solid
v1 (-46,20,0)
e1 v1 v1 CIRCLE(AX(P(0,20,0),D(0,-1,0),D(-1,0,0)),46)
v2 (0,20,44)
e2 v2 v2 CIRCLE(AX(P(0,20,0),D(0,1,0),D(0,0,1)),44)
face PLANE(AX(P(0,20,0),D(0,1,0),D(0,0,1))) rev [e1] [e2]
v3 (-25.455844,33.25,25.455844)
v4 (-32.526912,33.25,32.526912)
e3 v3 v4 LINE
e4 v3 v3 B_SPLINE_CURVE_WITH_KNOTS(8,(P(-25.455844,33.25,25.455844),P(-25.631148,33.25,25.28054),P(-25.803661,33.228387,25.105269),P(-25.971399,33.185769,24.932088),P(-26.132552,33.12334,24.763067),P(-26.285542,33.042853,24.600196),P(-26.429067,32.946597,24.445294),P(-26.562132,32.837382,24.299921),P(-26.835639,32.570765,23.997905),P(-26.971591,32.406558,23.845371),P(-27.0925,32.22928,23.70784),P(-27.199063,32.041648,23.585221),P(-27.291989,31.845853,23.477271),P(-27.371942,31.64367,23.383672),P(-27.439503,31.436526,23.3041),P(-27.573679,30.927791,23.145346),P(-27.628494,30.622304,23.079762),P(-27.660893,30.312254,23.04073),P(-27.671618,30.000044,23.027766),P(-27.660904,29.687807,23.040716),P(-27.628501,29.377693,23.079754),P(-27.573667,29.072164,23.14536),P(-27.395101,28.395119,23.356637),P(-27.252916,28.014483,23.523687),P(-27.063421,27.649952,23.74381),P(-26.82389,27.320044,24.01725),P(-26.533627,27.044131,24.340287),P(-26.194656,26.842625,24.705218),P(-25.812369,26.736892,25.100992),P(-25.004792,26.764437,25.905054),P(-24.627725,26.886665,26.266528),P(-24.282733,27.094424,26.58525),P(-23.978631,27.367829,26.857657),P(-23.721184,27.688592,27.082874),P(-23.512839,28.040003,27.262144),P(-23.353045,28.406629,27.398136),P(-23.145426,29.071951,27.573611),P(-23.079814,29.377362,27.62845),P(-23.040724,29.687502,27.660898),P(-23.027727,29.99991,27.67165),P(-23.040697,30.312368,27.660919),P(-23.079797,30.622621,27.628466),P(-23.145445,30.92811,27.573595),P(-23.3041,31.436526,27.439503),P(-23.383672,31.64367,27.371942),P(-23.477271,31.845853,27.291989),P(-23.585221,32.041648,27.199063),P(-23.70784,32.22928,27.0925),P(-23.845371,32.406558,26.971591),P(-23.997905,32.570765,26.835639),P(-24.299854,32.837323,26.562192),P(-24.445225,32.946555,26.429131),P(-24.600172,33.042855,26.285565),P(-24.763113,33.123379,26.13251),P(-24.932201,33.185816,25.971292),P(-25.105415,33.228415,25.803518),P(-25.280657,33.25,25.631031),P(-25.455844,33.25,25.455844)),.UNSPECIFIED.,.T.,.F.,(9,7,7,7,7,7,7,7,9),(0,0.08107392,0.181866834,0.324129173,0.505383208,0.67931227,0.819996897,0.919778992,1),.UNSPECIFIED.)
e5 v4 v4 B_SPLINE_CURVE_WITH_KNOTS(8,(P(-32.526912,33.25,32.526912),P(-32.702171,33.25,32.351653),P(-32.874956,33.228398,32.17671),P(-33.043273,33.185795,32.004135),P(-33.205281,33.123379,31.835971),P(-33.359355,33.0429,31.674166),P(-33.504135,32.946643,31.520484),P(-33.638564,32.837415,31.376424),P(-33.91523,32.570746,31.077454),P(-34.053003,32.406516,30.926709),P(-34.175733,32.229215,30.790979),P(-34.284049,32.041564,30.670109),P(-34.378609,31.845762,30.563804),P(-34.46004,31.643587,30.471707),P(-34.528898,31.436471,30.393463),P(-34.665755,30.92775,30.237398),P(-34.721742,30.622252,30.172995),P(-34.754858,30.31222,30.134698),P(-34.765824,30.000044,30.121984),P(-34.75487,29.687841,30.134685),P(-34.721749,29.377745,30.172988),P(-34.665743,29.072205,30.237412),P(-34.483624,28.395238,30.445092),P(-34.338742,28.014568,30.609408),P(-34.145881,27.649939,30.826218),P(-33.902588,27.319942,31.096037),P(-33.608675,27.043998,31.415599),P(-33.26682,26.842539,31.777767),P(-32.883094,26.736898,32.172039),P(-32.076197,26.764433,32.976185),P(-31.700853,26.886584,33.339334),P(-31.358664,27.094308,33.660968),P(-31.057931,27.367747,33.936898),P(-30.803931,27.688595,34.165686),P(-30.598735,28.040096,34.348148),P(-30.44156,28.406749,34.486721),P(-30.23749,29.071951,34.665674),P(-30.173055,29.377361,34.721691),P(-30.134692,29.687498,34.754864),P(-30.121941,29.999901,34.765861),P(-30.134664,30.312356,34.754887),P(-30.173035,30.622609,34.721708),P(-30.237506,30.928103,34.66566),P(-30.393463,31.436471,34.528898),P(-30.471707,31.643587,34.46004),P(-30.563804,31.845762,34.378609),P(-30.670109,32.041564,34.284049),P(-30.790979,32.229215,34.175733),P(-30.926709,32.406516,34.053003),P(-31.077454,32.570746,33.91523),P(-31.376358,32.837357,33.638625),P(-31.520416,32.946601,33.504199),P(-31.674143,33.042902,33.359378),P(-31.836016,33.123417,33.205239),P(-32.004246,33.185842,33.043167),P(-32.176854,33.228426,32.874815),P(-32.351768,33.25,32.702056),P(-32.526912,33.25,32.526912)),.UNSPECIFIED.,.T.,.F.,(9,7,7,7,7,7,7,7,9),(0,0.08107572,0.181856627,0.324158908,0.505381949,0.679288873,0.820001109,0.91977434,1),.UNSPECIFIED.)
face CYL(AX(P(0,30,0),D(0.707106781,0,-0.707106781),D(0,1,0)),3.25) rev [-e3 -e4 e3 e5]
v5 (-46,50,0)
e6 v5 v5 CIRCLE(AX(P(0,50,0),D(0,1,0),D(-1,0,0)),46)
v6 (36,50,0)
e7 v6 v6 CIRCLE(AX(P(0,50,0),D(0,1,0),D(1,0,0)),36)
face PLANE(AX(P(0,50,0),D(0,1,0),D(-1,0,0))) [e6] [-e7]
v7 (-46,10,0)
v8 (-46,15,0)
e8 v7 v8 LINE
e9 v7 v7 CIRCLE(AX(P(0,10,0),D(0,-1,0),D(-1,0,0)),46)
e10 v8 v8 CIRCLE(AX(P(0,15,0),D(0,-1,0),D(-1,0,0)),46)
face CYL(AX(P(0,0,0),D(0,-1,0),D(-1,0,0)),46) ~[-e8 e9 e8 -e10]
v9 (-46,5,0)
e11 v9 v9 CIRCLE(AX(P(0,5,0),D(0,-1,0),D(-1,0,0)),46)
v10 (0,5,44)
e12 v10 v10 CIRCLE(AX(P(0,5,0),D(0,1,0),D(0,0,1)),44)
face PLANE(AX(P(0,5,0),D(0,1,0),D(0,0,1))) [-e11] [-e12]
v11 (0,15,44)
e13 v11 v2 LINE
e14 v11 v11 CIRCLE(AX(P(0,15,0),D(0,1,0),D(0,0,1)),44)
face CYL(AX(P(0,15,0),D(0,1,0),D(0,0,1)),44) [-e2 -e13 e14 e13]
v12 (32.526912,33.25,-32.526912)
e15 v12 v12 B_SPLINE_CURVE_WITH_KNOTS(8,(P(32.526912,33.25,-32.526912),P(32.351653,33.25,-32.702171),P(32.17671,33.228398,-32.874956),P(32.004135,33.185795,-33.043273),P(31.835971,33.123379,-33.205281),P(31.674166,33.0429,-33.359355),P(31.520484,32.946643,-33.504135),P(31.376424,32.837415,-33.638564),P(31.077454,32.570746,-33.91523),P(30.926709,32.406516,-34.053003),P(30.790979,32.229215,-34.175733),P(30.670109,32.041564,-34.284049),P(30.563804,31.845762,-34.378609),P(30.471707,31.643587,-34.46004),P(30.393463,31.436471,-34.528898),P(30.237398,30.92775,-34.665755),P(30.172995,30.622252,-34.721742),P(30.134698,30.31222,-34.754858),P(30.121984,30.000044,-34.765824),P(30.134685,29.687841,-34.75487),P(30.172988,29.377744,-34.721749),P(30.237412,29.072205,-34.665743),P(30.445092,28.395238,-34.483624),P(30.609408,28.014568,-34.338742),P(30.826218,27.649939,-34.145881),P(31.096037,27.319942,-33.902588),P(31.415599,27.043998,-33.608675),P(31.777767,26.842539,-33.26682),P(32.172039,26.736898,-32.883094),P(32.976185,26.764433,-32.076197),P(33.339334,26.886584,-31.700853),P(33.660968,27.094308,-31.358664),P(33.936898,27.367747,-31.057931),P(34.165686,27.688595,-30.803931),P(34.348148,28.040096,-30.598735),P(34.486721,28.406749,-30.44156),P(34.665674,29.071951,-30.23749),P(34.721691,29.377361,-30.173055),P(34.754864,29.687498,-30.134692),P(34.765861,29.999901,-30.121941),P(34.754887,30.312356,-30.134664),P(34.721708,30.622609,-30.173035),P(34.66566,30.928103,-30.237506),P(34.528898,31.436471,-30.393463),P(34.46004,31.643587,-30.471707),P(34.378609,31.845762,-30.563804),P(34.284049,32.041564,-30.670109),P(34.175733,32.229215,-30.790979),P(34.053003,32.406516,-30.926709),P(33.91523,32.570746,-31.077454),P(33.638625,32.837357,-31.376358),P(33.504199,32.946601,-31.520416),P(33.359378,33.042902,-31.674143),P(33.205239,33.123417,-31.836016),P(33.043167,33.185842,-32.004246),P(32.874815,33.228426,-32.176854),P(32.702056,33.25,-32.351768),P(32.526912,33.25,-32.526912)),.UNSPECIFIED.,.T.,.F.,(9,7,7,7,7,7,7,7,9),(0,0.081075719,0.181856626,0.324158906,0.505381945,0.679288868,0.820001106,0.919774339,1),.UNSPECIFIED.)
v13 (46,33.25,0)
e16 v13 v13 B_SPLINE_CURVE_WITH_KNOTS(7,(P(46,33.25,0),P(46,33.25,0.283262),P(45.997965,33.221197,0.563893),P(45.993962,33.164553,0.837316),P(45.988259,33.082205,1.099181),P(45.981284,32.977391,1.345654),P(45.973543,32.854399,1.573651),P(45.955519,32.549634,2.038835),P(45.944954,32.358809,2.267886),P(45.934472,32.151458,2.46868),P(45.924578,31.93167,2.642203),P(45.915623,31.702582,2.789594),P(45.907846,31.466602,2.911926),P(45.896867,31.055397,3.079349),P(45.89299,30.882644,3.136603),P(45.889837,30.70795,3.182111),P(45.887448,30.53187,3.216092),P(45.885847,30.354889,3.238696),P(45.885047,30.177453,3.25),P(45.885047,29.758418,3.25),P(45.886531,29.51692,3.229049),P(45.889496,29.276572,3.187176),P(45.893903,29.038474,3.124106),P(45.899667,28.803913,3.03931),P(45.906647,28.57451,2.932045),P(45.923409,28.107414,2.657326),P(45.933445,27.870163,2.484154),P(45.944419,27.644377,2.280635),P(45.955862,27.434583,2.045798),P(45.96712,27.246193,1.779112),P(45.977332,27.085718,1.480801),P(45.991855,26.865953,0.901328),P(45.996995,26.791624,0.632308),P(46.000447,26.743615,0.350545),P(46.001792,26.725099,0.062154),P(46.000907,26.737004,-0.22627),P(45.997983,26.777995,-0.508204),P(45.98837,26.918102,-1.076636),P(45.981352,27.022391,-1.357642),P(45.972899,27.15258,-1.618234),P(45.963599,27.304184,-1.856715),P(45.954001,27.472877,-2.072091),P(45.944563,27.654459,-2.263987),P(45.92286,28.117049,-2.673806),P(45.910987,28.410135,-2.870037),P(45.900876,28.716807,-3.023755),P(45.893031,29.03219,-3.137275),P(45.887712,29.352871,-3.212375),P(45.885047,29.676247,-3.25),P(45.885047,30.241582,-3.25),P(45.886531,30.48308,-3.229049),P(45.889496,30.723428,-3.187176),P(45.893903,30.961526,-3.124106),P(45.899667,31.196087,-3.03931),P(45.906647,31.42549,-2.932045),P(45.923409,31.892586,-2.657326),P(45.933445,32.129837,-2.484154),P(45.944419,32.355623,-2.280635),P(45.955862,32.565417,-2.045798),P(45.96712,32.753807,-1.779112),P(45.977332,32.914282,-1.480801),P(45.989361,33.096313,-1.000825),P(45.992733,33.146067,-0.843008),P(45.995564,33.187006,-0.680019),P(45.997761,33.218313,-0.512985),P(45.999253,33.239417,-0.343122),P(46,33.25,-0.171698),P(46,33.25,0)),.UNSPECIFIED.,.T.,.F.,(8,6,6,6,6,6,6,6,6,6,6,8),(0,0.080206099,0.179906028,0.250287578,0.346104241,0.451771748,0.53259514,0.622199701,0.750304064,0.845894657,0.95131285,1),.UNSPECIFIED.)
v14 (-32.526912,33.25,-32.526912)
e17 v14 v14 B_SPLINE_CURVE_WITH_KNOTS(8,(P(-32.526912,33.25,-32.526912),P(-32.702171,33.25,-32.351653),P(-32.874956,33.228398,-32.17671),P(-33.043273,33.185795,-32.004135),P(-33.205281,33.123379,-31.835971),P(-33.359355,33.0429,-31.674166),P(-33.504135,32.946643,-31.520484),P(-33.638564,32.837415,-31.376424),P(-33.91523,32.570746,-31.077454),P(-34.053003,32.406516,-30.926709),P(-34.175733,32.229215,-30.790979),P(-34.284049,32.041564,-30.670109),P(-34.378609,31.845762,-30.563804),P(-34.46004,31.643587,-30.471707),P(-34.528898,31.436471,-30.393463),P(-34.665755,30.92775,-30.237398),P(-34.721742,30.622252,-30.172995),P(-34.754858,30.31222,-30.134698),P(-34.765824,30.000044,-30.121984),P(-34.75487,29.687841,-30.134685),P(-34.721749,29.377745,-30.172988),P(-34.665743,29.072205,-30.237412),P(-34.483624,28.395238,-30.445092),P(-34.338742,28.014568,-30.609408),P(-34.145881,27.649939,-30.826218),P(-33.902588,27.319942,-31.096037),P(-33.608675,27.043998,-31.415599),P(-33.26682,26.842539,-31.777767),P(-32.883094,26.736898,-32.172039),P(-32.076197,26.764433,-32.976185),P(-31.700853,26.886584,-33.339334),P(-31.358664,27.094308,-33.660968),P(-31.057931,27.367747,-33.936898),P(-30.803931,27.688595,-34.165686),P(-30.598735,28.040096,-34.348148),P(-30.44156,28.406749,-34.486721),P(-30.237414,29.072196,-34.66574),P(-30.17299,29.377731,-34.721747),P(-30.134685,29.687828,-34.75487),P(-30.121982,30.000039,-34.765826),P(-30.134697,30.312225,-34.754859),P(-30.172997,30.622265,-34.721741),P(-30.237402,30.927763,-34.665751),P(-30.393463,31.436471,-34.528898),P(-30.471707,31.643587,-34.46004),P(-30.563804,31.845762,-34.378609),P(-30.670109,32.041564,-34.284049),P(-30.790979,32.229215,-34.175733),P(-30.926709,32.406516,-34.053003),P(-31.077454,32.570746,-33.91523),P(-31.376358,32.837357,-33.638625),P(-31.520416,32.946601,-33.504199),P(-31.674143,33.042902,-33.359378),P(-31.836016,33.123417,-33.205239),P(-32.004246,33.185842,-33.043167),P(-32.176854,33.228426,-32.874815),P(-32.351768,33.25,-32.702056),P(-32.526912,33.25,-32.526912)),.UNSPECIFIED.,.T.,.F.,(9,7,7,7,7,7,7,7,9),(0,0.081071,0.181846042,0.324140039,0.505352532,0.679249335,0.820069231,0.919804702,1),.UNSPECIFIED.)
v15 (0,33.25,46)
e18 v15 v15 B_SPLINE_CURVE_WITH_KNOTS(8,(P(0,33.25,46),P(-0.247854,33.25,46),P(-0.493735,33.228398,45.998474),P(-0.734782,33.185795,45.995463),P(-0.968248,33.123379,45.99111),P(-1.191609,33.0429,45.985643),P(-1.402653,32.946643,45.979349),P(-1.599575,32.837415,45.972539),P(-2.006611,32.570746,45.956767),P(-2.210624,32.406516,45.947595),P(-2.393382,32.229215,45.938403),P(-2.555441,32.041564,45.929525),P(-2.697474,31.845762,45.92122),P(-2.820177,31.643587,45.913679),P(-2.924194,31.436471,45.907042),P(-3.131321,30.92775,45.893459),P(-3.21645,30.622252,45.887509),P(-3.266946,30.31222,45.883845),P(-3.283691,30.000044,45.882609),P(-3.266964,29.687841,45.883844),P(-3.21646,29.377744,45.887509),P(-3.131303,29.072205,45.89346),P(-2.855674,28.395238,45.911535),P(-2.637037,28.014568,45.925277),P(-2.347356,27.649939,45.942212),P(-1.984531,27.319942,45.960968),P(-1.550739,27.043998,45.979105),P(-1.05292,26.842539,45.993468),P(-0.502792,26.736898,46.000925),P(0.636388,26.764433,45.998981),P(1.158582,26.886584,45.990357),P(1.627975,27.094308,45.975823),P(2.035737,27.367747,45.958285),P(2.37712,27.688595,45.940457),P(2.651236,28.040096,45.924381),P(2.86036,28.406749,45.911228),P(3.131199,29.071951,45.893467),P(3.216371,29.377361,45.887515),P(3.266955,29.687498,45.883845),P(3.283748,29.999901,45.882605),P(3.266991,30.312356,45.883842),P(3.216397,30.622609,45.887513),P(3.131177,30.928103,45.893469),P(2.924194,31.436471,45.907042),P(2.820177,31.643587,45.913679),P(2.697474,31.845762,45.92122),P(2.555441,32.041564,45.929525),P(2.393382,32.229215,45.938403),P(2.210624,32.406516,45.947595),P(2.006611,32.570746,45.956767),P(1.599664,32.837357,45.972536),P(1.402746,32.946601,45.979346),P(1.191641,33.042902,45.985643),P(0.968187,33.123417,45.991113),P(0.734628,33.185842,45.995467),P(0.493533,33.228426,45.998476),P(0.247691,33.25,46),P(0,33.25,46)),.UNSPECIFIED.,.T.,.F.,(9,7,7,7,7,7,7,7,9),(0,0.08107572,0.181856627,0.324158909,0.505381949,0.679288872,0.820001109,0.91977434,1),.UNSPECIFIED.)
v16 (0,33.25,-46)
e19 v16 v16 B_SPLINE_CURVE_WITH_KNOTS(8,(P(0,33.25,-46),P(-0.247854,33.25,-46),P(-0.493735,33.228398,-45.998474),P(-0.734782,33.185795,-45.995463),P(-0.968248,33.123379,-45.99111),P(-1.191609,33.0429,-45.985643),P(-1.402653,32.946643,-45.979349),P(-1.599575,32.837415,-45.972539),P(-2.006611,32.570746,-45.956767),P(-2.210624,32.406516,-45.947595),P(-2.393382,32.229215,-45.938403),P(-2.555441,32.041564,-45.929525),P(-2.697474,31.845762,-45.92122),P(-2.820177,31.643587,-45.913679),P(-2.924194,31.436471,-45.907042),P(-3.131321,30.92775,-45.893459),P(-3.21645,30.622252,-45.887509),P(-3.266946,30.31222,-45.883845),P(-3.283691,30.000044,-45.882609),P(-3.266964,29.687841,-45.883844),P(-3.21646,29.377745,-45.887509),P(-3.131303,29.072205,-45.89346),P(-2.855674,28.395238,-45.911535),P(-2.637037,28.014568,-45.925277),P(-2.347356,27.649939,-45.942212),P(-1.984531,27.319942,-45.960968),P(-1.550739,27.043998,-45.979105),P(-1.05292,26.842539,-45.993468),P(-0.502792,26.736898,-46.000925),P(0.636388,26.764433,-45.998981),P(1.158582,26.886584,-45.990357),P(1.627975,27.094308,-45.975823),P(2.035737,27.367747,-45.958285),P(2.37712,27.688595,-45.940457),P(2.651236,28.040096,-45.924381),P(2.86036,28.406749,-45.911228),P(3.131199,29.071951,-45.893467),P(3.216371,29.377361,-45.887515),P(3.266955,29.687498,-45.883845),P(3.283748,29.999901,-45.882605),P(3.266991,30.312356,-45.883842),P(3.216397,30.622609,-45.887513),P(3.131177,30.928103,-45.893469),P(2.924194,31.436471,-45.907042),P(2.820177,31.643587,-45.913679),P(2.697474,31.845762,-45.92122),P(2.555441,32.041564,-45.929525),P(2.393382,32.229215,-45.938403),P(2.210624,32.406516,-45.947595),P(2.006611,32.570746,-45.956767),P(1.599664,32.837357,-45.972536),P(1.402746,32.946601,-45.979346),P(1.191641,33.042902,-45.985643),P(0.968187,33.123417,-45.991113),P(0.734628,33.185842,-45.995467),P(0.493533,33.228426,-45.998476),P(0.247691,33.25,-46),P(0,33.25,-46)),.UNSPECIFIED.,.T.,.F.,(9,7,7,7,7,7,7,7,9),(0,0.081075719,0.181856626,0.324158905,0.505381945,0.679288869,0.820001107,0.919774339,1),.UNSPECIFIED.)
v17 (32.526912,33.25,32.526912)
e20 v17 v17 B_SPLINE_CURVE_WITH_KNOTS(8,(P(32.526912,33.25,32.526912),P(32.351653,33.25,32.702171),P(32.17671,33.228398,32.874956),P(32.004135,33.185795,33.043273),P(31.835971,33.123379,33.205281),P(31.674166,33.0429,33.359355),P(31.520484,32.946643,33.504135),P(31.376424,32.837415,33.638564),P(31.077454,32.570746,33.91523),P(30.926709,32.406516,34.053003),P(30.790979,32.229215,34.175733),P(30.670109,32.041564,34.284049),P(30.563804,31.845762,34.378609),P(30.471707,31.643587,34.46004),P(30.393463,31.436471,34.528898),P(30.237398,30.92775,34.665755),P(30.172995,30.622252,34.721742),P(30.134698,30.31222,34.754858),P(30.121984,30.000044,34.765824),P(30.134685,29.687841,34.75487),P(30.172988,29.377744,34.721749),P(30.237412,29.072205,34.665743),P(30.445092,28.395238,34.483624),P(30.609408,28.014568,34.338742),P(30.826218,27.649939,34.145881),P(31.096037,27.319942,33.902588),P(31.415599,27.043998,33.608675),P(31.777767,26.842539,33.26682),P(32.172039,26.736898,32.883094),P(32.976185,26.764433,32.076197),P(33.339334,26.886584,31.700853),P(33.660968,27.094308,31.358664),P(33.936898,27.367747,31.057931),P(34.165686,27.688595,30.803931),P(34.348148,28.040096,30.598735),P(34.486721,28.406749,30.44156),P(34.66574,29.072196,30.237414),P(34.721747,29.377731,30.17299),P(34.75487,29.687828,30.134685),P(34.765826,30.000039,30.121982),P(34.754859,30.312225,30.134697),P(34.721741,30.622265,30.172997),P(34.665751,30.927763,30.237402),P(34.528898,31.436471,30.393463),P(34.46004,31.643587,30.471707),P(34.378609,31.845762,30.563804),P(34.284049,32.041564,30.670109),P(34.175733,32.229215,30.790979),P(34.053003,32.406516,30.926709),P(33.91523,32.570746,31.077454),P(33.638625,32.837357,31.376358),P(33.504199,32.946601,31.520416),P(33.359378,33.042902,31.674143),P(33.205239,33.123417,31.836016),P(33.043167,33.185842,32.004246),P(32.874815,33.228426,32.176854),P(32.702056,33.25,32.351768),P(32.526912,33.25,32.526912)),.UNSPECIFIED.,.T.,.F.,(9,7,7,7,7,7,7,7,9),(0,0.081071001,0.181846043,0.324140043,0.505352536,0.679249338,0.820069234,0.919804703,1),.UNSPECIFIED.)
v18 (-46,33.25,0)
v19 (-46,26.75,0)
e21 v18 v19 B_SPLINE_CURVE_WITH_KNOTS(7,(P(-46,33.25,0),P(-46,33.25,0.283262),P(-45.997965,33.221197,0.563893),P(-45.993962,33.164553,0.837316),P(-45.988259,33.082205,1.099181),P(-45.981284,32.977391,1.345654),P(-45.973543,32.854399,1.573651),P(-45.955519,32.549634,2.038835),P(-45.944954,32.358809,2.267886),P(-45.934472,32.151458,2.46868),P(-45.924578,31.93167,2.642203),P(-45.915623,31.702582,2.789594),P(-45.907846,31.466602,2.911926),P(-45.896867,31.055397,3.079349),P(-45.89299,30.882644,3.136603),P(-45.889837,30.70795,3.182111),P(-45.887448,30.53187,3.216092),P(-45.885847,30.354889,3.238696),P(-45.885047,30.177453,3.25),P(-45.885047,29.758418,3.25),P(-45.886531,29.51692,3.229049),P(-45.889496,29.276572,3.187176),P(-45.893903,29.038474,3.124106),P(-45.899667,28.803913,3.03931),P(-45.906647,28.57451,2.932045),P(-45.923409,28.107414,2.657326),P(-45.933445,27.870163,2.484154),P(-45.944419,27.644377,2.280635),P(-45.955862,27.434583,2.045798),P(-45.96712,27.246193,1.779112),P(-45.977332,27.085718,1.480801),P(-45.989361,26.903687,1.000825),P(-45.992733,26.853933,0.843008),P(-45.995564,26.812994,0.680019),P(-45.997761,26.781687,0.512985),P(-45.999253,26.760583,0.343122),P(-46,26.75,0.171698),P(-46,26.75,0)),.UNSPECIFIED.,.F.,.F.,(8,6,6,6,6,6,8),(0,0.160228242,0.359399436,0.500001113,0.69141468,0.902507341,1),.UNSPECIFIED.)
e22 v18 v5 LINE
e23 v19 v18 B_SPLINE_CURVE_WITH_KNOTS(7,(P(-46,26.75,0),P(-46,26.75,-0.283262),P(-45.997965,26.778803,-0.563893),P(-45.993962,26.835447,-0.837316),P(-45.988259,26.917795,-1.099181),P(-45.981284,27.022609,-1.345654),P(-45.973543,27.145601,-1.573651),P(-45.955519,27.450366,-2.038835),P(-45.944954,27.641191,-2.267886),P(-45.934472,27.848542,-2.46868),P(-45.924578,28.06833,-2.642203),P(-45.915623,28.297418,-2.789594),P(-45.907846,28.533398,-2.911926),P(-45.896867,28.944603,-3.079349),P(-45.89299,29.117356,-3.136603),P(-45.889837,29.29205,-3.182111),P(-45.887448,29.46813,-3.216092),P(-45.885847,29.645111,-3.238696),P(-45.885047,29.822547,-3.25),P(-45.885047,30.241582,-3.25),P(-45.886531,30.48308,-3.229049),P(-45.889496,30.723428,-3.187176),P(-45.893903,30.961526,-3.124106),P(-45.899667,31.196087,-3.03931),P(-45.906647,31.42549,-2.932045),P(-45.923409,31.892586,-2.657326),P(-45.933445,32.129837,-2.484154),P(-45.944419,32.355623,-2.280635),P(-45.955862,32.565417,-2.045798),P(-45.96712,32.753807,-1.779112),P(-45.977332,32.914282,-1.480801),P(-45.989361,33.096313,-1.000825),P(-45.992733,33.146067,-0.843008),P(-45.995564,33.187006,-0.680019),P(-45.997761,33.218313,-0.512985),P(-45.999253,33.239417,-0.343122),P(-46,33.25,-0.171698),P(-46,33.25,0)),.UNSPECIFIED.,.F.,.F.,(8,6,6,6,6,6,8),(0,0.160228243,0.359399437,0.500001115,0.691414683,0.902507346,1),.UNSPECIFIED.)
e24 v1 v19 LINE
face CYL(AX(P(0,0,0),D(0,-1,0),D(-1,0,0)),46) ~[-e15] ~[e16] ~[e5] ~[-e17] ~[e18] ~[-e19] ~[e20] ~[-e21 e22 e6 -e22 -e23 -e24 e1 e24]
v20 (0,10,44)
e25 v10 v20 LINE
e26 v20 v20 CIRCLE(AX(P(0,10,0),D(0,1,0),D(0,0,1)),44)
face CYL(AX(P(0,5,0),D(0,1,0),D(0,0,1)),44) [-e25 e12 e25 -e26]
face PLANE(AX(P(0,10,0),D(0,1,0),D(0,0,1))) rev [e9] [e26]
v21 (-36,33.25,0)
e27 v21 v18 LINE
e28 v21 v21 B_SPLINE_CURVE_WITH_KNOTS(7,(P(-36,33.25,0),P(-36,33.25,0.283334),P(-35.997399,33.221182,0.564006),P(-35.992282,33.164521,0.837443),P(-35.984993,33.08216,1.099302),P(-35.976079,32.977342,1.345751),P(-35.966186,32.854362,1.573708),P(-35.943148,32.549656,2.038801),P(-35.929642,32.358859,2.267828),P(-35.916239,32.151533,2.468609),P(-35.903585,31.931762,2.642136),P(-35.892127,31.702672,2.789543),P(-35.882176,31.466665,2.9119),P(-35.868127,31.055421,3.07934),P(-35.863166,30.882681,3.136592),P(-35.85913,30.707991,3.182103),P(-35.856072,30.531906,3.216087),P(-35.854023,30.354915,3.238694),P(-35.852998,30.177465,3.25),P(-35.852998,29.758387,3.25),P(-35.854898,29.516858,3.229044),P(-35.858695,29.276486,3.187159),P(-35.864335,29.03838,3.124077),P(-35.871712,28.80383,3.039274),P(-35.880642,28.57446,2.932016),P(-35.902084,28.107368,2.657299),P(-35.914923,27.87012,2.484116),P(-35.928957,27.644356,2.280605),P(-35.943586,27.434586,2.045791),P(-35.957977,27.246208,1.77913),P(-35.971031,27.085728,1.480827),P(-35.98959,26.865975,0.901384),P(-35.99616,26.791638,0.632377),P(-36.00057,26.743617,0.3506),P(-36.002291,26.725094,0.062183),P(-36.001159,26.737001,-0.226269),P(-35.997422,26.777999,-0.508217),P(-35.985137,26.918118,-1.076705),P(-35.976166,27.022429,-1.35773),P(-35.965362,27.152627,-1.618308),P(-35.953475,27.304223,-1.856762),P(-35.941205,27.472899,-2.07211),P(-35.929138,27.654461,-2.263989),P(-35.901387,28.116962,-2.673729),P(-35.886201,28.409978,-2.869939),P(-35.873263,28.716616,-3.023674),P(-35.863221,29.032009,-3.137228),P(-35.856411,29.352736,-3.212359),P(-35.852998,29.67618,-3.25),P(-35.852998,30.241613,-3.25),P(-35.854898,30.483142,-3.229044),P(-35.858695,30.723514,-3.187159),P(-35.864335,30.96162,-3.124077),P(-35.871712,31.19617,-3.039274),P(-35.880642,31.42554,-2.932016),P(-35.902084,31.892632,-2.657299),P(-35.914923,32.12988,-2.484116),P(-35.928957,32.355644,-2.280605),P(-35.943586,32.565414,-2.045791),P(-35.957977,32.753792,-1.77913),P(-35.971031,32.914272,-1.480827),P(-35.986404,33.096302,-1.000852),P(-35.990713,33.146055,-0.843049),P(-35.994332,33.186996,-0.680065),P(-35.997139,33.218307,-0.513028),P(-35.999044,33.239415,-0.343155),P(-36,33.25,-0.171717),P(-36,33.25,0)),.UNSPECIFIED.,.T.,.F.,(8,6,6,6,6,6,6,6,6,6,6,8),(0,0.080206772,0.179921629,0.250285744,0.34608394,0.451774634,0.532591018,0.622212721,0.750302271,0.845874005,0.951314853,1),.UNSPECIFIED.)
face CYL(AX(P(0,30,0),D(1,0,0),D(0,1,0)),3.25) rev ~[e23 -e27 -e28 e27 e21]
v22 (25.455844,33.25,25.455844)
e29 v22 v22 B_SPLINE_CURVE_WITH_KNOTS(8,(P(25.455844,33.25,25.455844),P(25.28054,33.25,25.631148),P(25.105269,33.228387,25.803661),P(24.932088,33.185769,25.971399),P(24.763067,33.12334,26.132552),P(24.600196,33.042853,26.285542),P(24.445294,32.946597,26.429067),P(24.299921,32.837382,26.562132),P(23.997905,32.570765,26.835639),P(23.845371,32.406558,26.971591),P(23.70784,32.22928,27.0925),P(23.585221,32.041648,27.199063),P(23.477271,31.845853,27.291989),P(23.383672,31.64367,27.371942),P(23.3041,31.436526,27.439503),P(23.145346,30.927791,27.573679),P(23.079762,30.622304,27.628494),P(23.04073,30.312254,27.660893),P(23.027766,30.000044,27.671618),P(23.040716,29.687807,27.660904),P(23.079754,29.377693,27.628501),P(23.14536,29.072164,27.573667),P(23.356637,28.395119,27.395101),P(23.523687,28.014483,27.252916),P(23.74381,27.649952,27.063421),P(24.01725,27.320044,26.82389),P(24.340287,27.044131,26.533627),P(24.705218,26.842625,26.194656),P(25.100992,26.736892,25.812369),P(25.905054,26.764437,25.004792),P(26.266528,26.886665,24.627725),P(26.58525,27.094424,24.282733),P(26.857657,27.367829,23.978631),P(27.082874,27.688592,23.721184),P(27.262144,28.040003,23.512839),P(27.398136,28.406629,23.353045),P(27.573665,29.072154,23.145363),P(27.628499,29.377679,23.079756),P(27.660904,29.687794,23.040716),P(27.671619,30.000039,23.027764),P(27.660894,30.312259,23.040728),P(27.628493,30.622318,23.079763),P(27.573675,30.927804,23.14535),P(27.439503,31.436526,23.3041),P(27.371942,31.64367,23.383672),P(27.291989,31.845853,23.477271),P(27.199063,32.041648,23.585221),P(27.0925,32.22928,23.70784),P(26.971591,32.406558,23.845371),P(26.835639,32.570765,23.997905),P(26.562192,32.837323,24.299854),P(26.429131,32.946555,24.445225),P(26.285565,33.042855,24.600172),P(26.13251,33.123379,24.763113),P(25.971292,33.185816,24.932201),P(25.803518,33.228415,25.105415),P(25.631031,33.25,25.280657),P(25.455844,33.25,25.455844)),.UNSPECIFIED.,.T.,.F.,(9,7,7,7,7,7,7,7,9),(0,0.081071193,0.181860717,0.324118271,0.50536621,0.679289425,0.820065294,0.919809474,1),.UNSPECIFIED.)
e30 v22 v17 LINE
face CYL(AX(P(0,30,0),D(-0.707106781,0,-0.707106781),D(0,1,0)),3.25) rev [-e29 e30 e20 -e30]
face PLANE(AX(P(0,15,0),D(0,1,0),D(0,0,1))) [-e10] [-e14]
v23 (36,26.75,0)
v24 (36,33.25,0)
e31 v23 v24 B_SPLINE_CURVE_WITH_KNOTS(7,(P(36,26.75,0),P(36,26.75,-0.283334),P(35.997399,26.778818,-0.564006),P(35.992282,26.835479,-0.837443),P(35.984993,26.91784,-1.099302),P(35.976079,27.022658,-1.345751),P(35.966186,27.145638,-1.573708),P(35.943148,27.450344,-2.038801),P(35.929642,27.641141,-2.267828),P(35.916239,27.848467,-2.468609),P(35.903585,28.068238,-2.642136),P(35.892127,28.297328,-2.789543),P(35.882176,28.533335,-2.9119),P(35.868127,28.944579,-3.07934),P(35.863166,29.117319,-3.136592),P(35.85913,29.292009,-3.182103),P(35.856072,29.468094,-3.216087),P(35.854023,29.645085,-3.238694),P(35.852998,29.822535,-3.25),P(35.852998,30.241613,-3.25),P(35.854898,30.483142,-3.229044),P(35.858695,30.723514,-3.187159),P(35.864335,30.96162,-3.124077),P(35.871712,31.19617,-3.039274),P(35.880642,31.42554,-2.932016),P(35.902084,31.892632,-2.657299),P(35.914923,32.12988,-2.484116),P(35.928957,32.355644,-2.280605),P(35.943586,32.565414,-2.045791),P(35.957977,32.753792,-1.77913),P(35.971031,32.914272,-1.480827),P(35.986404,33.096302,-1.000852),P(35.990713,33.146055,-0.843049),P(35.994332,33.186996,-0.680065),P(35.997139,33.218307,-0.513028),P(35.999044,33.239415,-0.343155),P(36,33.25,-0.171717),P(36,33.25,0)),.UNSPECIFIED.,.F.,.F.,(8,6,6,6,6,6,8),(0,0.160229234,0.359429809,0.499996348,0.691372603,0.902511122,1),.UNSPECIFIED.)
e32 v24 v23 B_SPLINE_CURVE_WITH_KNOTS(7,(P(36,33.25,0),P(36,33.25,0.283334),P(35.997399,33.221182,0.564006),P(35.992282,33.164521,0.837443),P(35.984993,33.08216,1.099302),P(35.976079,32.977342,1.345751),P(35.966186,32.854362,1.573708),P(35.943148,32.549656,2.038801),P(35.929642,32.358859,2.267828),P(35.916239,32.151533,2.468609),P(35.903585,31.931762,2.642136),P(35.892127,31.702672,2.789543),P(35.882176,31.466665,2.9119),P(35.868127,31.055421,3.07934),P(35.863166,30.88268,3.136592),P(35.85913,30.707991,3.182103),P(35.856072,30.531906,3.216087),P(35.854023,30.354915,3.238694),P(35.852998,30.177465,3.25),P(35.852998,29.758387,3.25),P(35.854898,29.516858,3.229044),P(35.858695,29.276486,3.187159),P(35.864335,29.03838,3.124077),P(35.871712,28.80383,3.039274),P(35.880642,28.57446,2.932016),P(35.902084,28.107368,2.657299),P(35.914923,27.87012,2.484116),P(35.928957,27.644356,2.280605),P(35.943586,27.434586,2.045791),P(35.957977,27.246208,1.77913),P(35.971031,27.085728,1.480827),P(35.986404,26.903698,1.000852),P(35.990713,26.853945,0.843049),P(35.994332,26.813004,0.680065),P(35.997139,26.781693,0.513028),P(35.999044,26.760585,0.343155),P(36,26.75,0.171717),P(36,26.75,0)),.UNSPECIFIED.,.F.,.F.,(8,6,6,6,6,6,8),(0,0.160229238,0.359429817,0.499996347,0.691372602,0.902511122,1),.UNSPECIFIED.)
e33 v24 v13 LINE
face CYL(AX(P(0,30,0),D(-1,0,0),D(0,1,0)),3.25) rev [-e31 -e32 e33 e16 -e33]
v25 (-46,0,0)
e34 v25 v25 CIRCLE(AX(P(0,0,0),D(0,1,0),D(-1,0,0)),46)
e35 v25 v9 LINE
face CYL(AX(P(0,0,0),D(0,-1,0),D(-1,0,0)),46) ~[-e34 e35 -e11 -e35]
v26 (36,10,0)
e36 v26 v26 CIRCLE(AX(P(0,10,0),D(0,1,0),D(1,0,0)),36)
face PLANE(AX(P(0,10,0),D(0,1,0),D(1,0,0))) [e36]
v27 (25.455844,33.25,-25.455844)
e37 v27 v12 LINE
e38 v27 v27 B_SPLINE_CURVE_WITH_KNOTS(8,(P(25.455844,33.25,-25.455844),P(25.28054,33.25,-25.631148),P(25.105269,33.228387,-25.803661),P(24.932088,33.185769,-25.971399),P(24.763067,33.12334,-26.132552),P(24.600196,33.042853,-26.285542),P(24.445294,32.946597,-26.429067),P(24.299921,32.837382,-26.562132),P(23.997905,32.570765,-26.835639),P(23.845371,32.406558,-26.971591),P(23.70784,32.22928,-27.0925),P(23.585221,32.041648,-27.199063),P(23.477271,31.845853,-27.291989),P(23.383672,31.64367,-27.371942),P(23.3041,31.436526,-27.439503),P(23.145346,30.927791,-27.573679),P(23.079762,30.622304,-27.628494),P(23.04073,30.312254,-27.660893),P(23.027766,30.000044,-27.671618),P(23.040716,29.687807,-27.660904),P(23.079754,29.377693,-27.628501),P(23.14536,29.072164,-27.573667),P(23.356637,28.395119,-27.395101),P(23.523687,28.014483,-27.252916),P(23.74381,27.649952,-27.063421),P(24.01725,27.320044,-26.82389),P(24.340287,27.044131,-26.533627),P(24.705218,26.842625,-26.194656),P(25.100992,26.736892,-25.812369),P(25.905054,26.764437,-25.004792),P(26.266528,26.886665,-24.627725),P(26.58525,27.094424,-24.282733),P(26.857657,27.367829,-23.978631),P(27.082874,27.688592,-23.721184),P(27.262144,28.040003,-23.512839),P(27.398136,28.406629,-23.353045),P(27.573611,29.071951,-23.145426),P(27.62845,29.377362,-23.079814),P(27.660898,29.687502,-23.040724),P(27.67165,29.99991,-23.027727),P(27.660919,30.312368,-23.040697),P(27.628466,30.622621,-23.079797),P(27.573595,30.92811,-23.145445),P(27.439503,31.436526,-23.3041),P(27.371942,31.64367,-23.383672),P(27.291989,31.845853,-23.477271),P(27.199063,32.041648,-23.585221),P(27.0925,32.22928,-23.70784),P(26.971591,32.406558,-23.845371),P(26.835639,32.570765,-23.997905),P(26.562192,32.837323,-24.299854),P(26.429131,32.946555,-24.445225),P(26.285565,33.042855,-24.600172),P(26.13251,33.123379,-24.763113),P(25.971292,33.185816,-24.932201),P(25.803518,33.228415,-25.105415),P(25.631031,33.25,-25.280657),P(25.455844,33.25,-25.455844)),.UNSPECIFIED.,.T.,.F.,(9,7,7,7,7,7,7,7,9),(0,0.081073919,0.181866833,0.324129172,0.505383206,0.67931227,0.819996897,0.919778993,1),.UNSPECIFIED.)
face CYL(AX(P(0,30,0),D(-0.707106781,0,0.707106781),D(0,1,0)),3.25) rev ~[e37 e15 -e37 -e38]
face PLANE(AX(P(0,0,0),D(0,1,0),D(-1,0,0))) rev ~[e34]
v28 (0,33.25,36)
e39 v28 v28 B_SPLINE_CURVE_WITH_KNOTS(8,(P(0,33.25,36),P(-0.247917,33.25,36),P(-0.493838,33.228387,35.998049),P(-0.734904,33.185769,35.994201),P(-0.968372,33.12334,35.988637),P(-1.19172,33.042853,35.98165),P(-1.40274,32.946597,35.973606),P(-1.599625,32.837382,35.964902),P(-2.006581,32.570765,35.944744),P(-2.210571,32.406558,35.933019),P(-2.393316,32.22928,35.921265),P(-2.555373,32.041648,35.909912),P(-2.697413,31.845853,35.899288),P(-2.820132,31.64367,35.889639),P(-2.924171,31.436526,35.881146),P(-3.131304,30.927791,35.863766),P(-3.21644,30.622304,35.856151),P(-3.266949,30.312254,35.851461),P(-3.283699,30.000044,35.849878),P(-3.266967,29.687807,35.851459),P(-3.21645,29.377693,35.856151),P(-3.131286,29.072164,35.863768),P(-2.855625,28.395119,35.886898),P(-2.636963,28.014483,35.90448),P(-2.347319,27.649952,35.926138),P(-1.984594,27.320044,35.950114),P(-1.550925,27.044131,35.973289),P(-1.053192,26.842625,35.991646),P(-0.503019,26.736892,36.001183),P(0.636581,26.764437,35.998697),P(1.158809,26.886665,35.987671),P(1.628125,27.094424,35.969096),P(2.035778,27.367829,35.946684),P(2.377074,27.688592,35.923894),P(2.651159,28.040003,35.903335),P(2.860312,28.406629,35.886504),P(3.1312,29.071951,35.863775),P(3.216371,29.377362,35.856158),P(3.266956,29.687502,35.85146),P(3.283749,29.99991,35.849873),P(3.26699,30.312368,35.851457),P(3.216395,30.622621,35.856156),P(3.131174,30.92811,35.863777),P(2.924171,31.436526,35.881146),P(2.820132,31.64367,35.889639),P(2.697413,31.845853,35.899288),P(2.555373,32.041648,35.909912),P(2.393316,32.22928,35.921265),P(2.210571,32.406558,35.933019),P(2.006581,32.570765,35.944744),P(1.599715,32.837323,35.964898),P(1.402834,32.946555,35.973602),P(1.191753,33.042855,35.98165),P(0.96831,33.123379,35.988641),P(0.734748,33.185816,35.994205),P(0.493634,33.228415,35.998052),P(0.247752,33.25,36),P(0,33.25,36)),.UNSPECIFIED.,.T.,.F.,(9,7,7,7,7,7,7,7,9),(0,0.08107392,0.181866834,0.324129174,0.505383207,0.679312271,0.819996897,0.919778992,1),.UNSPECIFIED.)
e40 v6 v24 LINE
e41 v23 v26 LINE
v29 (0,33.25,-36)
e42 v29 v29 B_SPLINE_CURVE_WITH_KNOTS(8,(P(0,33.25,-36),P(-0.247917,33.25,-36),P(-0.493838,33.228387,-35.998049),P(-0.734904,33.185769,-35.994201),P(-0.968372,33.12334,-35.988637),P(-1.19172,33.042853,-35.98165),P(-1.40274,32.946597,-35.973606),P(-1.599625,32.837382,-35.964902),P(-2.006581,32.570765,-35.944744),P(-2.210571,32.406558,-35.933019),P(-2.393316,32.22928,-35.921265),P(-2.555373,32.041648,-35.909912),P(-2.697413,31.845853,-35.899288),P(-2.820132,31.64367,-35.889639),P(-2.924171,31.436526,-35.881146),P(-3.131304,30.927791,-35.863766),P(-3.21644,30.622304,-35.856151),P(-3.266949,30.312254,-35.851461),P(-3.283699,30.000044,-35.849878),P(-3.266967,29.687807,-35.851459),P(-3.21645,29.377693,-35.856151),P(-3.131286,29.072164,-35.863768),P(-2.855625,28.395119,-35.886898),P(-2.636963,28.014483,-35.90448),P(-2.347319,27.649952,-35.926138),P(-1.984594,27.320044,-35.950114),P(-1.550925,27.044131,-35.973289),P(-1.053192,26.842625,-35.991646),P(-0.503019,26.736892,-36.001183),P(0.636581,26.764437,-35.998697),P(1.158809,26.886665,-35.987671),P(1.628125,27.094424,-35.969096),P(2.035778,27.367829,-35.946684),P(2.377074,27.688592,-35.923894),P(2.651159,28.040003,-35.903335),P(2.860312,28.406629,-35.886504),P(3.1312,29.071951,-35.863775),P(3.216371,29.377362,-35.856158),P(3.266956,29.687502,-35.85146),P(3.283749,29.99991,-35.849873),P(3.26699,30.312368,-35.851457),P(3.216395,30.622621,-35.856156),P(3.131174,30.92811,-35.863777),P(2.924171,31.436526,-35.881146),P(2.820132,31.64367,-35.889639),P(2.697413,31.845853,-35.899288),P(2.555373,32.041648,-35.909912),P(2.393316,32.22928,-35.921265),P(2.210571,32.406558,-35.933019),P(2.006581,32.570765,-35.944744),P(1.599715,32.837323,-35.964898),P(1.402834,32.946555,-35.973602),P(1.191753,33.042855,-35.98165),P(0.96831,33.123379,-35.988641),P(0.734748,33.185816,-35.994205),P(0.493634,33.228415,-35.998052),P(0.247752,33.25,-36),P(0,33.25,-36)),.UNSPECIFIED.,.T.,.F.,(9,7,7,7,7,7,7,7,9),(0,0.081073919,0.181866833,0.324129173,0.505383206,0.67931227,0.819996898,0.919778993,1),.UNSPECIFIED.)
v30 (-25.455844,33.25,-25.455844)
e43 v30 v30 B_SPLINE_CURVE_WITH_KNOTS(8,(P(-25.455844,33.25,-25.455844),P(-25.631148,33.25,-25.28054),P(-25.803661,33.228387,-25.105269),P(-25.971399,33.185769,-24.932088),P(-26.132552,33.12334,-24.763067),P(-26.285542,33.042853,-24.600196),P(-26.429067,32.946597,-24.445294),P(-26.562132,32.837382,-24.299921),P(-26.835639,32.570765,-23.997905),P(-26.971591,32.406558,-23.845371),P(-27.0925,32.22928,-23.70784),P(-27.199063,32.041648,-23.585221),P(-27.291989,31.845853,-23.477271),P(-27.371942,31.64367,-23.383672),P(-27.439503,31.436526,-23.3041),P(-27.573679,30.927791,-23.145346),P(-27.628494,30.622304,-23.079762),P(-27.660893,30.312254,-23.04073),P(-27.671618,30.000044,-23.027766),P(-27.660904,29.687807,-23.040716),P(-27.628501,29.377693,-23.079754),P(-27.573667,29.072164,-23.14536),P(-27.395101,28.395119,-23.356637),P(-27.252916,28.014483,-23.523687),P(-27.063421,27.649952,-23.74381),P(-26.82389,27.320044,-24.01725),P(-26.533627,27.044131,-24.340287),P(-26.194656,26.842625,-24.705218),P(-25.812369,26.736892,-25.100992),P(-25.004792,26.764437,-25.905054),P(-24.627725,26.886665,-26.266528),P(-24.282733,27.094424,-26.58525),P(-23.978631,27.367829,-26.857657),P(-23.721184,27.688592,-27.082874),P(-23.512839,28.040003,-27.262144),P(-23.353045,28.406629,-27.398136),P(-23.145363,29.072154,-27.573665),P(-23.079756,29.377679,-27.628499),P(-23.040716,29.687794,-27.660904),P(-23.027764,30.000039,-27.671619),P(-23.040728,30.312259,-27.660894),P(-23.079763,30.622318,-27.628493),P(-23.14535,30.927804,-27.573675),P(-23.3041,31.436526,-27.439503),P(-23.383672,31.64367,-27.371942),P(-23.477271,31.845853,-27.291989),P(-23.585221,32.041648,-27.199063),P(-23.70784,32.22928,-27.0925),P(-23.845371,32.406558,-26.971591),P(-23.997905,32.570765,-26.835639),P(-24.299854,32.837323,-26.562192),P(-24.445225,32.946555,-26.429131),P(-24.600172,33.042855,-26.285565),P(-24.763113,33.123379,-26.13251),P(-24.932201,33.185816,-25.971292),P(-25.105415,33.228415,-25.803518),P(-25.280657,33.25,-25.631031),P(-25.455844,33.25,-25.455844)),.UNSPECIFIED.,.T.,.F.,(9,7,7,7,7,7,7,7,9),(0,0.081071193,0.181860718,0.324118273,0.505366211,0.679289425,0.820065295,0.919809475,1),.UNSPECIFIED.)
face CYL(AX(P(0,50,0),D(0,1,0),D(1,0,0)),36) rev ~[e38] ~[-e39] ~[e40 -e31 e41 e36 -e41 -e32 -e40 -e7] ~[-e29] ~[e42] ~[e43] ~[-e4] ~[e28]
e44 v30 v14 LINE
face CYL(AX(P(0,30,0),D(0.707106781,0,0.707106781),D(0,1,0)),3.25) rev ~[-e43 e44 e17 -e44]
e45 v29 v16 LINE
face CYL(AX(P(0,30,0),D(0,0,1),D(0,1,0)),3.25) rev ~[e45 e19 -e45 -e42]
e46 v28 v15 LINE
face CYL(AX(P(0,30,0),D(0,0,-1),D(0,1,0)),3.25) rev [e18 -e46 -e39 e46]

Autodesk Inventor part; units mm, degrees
ref_plane "YZ Plane" through (0, 0, 0) normal (1, 0, 0) x (0, 1, 0)
ref_plane "XZ Plane" through (0, 0, 0) normal (0, 1, 0) x (-1, 0, 0)
sketch "Sketch1" plane through (0, 0, 0) normal (0, 1, 0) x (-1, 0, 0)
  circle A0 centre (0, 0) radius 46
  dimension "d0" = 92
extrude "Extrusion1" add sketch "Sketch1" along normal blind 50
ref_plane "Work Plane1" through (0, 50, 0) normal (0, 1, 0) x (1, 0, 0)
sketch "Sketch2" plane through (0, 50, 0) normal (0, 1, 0) x (1, 0, 0)
  circle A0 centre (0, 0) radius 36
  dimension "d4" = 72
extrude "Extrusion2" cut sketch "Sketch2" against normal blind 40
sketch "Sketch3" plane through (0, 0, 0) normal (1, 0, 0) x (0, 1, 0)
  line L0 (50, -46) -> (0, -46) projected
  line L1 (0, -46) -> (0, 46) projected
  line L2 (0, 46) -> (50, 46) projected
  line L3 (50, 46) -> (50, 36) projected
  line L4 (50, 36) -> (10, 36) projected
  line L5 (10, 36) -> (10, -36) projected
  line L6 (10, -36) -> (50, -36) projected
  line L7 (50, -36) -> (50, -46) projected
  line L8 (0, 46) -> (50, 46) projected
  line L9 (10, 46) -> (5, 46)
  line L10 (5, 46) -> (5, 44)
  line L11 (5, 44) -> (10, 44)
  line L12 (10, 44) -> (10, 46)
  line L13 (20, 46) -> (15, 46)
  line L14 (15, 46) -> (15, 44)
  line L15 (15, 44) -> (20, 44)
  line L16 (20, 44) -> (20, 46)
  line L17 (-10, 0) -> (60, 0) projected
  point P0 (0, 0)
  point P1 (15, 46)
  dimension "d7" = 5
  dimension "d8" = 5
  dimension "d9" = 5
  dimension "d10" = 5
  dimension "d11" = 2
revolve "Revolution1" cut sketch "Sketch3" angle 360 about axis through (0, -10, 0) along (0, 1, 0) contours L2 L12 L11 L10 | L2 L16 L15 L14
sketch "Sketch4" plane through (0, 0, 0) normal (1, 0, 0) x (0, 1, 0)
  line L0 (10, -36) -> (50, -36) projected
  line L1 (50, -36) -> (50, -46) projected
  line L2 (50, -46) -> (20, -46) projected
  line L3 (20, -46) -> (20, -44) projected
  line L4 (20, -44) -> (15, -44) projected
  line L5 (15, -44) -> (15, -46) projected
  line L6 (15, -46) -> (10, -46) projected
  line L7 (10, -46) -> (10, -44) projected
  line L8 (10, -44) -> (5, -44) projected
  line L9 (5, -44) -> (5, -46) projected
  line L10 (5, -46) -> (0, -46) projected
  line L11 (0, -46) -> (0, 46) projected
  line L12 (0, 46) -> (5, 46) projected
  line L13 (5, 46) -> (5, 44) projected
  line L14 (5, 44) -> (10, 44) projected
  line L15 (10, 44) -> (10, 46) projected
  line L16 (10, 46) -> (15, 46) projected
  line L17 (15, 46) -> (15, 44) projected
  line L18 (15, 44) -> (20, 44) projected
  line L19 (20, 44) -> (20, 46) projected
  line L20 (20, 46) -> (50, 46) projected
  line L21 (50, 46) -> (50, 36) projected
  line L22 (50, 36) -> (10, 36) projected
  line L23 (10, 36) -> (10, -36) projected
  line L24 (10, -36) -> (50, -36) projected
  line L25 (50, -36) -> (50, -46) projected
  line L26 (50, 46) -> (50, 36) projected
  line L27 (50, 36) -> (10, 36) projected
  line L28 (10, 36) -> (10, -36) projected
  line L29 (20, -46) -> (20, 46) projected
  line L30 (50, -46) -> (50, 46) projected
  circle A0 centre (30, 0) radius 3.25
  line L31 (50, -46) -> (20, -46) projected
  line L32 (20, -46) -> (20, -44) projected
  line L33 (20, -44) -> (15, -44) projected
  line L34 (15, -44) -> (15, -46) projected
  line L35 (15, -46) -> (10, -46) projected
  line L36 (10, -46) -> (10, -44) projected
  line L37 (10, -44) -> (5, -44) projected
  line L38 (5, -44) -> (5, -46) projected
  line L39 (5, -46) -> (0, -46) projected
  line L40 (0, -46) -> (0, 46) projected
  line L41 (0, 46) -> (5, 46) projected
  line L42 (5, 46) -> (5, 44) projected
  line L43 (5, 44) -> (10, 44) projected
  line L44 (10, 44) -> (10, 46) projected
  line L45 (10, 46) -> (15, 46) projected
  line L46 (15, 46) -> (15, 44) projected
  line L47 (15, 44) -> (20, 44) projected
  line L48 (20, 44) -> (20, 46) projected
  line L49 (20, 46) -> (50, 46) projected
  point P0 (0, 0)
  dimension "d17" = 6.5
  dimension "d18" = 20
extrude "Extrusion3" cut sketch "Sketch4" along normal through all both and the other way through all contours A0
pattern_circular "Circular Pattern1" count 8 over 360 about axis through (0, 50, 0) along (0, -1, 0) of "Extrusion3"
properties part number "bulk head 94mm"
